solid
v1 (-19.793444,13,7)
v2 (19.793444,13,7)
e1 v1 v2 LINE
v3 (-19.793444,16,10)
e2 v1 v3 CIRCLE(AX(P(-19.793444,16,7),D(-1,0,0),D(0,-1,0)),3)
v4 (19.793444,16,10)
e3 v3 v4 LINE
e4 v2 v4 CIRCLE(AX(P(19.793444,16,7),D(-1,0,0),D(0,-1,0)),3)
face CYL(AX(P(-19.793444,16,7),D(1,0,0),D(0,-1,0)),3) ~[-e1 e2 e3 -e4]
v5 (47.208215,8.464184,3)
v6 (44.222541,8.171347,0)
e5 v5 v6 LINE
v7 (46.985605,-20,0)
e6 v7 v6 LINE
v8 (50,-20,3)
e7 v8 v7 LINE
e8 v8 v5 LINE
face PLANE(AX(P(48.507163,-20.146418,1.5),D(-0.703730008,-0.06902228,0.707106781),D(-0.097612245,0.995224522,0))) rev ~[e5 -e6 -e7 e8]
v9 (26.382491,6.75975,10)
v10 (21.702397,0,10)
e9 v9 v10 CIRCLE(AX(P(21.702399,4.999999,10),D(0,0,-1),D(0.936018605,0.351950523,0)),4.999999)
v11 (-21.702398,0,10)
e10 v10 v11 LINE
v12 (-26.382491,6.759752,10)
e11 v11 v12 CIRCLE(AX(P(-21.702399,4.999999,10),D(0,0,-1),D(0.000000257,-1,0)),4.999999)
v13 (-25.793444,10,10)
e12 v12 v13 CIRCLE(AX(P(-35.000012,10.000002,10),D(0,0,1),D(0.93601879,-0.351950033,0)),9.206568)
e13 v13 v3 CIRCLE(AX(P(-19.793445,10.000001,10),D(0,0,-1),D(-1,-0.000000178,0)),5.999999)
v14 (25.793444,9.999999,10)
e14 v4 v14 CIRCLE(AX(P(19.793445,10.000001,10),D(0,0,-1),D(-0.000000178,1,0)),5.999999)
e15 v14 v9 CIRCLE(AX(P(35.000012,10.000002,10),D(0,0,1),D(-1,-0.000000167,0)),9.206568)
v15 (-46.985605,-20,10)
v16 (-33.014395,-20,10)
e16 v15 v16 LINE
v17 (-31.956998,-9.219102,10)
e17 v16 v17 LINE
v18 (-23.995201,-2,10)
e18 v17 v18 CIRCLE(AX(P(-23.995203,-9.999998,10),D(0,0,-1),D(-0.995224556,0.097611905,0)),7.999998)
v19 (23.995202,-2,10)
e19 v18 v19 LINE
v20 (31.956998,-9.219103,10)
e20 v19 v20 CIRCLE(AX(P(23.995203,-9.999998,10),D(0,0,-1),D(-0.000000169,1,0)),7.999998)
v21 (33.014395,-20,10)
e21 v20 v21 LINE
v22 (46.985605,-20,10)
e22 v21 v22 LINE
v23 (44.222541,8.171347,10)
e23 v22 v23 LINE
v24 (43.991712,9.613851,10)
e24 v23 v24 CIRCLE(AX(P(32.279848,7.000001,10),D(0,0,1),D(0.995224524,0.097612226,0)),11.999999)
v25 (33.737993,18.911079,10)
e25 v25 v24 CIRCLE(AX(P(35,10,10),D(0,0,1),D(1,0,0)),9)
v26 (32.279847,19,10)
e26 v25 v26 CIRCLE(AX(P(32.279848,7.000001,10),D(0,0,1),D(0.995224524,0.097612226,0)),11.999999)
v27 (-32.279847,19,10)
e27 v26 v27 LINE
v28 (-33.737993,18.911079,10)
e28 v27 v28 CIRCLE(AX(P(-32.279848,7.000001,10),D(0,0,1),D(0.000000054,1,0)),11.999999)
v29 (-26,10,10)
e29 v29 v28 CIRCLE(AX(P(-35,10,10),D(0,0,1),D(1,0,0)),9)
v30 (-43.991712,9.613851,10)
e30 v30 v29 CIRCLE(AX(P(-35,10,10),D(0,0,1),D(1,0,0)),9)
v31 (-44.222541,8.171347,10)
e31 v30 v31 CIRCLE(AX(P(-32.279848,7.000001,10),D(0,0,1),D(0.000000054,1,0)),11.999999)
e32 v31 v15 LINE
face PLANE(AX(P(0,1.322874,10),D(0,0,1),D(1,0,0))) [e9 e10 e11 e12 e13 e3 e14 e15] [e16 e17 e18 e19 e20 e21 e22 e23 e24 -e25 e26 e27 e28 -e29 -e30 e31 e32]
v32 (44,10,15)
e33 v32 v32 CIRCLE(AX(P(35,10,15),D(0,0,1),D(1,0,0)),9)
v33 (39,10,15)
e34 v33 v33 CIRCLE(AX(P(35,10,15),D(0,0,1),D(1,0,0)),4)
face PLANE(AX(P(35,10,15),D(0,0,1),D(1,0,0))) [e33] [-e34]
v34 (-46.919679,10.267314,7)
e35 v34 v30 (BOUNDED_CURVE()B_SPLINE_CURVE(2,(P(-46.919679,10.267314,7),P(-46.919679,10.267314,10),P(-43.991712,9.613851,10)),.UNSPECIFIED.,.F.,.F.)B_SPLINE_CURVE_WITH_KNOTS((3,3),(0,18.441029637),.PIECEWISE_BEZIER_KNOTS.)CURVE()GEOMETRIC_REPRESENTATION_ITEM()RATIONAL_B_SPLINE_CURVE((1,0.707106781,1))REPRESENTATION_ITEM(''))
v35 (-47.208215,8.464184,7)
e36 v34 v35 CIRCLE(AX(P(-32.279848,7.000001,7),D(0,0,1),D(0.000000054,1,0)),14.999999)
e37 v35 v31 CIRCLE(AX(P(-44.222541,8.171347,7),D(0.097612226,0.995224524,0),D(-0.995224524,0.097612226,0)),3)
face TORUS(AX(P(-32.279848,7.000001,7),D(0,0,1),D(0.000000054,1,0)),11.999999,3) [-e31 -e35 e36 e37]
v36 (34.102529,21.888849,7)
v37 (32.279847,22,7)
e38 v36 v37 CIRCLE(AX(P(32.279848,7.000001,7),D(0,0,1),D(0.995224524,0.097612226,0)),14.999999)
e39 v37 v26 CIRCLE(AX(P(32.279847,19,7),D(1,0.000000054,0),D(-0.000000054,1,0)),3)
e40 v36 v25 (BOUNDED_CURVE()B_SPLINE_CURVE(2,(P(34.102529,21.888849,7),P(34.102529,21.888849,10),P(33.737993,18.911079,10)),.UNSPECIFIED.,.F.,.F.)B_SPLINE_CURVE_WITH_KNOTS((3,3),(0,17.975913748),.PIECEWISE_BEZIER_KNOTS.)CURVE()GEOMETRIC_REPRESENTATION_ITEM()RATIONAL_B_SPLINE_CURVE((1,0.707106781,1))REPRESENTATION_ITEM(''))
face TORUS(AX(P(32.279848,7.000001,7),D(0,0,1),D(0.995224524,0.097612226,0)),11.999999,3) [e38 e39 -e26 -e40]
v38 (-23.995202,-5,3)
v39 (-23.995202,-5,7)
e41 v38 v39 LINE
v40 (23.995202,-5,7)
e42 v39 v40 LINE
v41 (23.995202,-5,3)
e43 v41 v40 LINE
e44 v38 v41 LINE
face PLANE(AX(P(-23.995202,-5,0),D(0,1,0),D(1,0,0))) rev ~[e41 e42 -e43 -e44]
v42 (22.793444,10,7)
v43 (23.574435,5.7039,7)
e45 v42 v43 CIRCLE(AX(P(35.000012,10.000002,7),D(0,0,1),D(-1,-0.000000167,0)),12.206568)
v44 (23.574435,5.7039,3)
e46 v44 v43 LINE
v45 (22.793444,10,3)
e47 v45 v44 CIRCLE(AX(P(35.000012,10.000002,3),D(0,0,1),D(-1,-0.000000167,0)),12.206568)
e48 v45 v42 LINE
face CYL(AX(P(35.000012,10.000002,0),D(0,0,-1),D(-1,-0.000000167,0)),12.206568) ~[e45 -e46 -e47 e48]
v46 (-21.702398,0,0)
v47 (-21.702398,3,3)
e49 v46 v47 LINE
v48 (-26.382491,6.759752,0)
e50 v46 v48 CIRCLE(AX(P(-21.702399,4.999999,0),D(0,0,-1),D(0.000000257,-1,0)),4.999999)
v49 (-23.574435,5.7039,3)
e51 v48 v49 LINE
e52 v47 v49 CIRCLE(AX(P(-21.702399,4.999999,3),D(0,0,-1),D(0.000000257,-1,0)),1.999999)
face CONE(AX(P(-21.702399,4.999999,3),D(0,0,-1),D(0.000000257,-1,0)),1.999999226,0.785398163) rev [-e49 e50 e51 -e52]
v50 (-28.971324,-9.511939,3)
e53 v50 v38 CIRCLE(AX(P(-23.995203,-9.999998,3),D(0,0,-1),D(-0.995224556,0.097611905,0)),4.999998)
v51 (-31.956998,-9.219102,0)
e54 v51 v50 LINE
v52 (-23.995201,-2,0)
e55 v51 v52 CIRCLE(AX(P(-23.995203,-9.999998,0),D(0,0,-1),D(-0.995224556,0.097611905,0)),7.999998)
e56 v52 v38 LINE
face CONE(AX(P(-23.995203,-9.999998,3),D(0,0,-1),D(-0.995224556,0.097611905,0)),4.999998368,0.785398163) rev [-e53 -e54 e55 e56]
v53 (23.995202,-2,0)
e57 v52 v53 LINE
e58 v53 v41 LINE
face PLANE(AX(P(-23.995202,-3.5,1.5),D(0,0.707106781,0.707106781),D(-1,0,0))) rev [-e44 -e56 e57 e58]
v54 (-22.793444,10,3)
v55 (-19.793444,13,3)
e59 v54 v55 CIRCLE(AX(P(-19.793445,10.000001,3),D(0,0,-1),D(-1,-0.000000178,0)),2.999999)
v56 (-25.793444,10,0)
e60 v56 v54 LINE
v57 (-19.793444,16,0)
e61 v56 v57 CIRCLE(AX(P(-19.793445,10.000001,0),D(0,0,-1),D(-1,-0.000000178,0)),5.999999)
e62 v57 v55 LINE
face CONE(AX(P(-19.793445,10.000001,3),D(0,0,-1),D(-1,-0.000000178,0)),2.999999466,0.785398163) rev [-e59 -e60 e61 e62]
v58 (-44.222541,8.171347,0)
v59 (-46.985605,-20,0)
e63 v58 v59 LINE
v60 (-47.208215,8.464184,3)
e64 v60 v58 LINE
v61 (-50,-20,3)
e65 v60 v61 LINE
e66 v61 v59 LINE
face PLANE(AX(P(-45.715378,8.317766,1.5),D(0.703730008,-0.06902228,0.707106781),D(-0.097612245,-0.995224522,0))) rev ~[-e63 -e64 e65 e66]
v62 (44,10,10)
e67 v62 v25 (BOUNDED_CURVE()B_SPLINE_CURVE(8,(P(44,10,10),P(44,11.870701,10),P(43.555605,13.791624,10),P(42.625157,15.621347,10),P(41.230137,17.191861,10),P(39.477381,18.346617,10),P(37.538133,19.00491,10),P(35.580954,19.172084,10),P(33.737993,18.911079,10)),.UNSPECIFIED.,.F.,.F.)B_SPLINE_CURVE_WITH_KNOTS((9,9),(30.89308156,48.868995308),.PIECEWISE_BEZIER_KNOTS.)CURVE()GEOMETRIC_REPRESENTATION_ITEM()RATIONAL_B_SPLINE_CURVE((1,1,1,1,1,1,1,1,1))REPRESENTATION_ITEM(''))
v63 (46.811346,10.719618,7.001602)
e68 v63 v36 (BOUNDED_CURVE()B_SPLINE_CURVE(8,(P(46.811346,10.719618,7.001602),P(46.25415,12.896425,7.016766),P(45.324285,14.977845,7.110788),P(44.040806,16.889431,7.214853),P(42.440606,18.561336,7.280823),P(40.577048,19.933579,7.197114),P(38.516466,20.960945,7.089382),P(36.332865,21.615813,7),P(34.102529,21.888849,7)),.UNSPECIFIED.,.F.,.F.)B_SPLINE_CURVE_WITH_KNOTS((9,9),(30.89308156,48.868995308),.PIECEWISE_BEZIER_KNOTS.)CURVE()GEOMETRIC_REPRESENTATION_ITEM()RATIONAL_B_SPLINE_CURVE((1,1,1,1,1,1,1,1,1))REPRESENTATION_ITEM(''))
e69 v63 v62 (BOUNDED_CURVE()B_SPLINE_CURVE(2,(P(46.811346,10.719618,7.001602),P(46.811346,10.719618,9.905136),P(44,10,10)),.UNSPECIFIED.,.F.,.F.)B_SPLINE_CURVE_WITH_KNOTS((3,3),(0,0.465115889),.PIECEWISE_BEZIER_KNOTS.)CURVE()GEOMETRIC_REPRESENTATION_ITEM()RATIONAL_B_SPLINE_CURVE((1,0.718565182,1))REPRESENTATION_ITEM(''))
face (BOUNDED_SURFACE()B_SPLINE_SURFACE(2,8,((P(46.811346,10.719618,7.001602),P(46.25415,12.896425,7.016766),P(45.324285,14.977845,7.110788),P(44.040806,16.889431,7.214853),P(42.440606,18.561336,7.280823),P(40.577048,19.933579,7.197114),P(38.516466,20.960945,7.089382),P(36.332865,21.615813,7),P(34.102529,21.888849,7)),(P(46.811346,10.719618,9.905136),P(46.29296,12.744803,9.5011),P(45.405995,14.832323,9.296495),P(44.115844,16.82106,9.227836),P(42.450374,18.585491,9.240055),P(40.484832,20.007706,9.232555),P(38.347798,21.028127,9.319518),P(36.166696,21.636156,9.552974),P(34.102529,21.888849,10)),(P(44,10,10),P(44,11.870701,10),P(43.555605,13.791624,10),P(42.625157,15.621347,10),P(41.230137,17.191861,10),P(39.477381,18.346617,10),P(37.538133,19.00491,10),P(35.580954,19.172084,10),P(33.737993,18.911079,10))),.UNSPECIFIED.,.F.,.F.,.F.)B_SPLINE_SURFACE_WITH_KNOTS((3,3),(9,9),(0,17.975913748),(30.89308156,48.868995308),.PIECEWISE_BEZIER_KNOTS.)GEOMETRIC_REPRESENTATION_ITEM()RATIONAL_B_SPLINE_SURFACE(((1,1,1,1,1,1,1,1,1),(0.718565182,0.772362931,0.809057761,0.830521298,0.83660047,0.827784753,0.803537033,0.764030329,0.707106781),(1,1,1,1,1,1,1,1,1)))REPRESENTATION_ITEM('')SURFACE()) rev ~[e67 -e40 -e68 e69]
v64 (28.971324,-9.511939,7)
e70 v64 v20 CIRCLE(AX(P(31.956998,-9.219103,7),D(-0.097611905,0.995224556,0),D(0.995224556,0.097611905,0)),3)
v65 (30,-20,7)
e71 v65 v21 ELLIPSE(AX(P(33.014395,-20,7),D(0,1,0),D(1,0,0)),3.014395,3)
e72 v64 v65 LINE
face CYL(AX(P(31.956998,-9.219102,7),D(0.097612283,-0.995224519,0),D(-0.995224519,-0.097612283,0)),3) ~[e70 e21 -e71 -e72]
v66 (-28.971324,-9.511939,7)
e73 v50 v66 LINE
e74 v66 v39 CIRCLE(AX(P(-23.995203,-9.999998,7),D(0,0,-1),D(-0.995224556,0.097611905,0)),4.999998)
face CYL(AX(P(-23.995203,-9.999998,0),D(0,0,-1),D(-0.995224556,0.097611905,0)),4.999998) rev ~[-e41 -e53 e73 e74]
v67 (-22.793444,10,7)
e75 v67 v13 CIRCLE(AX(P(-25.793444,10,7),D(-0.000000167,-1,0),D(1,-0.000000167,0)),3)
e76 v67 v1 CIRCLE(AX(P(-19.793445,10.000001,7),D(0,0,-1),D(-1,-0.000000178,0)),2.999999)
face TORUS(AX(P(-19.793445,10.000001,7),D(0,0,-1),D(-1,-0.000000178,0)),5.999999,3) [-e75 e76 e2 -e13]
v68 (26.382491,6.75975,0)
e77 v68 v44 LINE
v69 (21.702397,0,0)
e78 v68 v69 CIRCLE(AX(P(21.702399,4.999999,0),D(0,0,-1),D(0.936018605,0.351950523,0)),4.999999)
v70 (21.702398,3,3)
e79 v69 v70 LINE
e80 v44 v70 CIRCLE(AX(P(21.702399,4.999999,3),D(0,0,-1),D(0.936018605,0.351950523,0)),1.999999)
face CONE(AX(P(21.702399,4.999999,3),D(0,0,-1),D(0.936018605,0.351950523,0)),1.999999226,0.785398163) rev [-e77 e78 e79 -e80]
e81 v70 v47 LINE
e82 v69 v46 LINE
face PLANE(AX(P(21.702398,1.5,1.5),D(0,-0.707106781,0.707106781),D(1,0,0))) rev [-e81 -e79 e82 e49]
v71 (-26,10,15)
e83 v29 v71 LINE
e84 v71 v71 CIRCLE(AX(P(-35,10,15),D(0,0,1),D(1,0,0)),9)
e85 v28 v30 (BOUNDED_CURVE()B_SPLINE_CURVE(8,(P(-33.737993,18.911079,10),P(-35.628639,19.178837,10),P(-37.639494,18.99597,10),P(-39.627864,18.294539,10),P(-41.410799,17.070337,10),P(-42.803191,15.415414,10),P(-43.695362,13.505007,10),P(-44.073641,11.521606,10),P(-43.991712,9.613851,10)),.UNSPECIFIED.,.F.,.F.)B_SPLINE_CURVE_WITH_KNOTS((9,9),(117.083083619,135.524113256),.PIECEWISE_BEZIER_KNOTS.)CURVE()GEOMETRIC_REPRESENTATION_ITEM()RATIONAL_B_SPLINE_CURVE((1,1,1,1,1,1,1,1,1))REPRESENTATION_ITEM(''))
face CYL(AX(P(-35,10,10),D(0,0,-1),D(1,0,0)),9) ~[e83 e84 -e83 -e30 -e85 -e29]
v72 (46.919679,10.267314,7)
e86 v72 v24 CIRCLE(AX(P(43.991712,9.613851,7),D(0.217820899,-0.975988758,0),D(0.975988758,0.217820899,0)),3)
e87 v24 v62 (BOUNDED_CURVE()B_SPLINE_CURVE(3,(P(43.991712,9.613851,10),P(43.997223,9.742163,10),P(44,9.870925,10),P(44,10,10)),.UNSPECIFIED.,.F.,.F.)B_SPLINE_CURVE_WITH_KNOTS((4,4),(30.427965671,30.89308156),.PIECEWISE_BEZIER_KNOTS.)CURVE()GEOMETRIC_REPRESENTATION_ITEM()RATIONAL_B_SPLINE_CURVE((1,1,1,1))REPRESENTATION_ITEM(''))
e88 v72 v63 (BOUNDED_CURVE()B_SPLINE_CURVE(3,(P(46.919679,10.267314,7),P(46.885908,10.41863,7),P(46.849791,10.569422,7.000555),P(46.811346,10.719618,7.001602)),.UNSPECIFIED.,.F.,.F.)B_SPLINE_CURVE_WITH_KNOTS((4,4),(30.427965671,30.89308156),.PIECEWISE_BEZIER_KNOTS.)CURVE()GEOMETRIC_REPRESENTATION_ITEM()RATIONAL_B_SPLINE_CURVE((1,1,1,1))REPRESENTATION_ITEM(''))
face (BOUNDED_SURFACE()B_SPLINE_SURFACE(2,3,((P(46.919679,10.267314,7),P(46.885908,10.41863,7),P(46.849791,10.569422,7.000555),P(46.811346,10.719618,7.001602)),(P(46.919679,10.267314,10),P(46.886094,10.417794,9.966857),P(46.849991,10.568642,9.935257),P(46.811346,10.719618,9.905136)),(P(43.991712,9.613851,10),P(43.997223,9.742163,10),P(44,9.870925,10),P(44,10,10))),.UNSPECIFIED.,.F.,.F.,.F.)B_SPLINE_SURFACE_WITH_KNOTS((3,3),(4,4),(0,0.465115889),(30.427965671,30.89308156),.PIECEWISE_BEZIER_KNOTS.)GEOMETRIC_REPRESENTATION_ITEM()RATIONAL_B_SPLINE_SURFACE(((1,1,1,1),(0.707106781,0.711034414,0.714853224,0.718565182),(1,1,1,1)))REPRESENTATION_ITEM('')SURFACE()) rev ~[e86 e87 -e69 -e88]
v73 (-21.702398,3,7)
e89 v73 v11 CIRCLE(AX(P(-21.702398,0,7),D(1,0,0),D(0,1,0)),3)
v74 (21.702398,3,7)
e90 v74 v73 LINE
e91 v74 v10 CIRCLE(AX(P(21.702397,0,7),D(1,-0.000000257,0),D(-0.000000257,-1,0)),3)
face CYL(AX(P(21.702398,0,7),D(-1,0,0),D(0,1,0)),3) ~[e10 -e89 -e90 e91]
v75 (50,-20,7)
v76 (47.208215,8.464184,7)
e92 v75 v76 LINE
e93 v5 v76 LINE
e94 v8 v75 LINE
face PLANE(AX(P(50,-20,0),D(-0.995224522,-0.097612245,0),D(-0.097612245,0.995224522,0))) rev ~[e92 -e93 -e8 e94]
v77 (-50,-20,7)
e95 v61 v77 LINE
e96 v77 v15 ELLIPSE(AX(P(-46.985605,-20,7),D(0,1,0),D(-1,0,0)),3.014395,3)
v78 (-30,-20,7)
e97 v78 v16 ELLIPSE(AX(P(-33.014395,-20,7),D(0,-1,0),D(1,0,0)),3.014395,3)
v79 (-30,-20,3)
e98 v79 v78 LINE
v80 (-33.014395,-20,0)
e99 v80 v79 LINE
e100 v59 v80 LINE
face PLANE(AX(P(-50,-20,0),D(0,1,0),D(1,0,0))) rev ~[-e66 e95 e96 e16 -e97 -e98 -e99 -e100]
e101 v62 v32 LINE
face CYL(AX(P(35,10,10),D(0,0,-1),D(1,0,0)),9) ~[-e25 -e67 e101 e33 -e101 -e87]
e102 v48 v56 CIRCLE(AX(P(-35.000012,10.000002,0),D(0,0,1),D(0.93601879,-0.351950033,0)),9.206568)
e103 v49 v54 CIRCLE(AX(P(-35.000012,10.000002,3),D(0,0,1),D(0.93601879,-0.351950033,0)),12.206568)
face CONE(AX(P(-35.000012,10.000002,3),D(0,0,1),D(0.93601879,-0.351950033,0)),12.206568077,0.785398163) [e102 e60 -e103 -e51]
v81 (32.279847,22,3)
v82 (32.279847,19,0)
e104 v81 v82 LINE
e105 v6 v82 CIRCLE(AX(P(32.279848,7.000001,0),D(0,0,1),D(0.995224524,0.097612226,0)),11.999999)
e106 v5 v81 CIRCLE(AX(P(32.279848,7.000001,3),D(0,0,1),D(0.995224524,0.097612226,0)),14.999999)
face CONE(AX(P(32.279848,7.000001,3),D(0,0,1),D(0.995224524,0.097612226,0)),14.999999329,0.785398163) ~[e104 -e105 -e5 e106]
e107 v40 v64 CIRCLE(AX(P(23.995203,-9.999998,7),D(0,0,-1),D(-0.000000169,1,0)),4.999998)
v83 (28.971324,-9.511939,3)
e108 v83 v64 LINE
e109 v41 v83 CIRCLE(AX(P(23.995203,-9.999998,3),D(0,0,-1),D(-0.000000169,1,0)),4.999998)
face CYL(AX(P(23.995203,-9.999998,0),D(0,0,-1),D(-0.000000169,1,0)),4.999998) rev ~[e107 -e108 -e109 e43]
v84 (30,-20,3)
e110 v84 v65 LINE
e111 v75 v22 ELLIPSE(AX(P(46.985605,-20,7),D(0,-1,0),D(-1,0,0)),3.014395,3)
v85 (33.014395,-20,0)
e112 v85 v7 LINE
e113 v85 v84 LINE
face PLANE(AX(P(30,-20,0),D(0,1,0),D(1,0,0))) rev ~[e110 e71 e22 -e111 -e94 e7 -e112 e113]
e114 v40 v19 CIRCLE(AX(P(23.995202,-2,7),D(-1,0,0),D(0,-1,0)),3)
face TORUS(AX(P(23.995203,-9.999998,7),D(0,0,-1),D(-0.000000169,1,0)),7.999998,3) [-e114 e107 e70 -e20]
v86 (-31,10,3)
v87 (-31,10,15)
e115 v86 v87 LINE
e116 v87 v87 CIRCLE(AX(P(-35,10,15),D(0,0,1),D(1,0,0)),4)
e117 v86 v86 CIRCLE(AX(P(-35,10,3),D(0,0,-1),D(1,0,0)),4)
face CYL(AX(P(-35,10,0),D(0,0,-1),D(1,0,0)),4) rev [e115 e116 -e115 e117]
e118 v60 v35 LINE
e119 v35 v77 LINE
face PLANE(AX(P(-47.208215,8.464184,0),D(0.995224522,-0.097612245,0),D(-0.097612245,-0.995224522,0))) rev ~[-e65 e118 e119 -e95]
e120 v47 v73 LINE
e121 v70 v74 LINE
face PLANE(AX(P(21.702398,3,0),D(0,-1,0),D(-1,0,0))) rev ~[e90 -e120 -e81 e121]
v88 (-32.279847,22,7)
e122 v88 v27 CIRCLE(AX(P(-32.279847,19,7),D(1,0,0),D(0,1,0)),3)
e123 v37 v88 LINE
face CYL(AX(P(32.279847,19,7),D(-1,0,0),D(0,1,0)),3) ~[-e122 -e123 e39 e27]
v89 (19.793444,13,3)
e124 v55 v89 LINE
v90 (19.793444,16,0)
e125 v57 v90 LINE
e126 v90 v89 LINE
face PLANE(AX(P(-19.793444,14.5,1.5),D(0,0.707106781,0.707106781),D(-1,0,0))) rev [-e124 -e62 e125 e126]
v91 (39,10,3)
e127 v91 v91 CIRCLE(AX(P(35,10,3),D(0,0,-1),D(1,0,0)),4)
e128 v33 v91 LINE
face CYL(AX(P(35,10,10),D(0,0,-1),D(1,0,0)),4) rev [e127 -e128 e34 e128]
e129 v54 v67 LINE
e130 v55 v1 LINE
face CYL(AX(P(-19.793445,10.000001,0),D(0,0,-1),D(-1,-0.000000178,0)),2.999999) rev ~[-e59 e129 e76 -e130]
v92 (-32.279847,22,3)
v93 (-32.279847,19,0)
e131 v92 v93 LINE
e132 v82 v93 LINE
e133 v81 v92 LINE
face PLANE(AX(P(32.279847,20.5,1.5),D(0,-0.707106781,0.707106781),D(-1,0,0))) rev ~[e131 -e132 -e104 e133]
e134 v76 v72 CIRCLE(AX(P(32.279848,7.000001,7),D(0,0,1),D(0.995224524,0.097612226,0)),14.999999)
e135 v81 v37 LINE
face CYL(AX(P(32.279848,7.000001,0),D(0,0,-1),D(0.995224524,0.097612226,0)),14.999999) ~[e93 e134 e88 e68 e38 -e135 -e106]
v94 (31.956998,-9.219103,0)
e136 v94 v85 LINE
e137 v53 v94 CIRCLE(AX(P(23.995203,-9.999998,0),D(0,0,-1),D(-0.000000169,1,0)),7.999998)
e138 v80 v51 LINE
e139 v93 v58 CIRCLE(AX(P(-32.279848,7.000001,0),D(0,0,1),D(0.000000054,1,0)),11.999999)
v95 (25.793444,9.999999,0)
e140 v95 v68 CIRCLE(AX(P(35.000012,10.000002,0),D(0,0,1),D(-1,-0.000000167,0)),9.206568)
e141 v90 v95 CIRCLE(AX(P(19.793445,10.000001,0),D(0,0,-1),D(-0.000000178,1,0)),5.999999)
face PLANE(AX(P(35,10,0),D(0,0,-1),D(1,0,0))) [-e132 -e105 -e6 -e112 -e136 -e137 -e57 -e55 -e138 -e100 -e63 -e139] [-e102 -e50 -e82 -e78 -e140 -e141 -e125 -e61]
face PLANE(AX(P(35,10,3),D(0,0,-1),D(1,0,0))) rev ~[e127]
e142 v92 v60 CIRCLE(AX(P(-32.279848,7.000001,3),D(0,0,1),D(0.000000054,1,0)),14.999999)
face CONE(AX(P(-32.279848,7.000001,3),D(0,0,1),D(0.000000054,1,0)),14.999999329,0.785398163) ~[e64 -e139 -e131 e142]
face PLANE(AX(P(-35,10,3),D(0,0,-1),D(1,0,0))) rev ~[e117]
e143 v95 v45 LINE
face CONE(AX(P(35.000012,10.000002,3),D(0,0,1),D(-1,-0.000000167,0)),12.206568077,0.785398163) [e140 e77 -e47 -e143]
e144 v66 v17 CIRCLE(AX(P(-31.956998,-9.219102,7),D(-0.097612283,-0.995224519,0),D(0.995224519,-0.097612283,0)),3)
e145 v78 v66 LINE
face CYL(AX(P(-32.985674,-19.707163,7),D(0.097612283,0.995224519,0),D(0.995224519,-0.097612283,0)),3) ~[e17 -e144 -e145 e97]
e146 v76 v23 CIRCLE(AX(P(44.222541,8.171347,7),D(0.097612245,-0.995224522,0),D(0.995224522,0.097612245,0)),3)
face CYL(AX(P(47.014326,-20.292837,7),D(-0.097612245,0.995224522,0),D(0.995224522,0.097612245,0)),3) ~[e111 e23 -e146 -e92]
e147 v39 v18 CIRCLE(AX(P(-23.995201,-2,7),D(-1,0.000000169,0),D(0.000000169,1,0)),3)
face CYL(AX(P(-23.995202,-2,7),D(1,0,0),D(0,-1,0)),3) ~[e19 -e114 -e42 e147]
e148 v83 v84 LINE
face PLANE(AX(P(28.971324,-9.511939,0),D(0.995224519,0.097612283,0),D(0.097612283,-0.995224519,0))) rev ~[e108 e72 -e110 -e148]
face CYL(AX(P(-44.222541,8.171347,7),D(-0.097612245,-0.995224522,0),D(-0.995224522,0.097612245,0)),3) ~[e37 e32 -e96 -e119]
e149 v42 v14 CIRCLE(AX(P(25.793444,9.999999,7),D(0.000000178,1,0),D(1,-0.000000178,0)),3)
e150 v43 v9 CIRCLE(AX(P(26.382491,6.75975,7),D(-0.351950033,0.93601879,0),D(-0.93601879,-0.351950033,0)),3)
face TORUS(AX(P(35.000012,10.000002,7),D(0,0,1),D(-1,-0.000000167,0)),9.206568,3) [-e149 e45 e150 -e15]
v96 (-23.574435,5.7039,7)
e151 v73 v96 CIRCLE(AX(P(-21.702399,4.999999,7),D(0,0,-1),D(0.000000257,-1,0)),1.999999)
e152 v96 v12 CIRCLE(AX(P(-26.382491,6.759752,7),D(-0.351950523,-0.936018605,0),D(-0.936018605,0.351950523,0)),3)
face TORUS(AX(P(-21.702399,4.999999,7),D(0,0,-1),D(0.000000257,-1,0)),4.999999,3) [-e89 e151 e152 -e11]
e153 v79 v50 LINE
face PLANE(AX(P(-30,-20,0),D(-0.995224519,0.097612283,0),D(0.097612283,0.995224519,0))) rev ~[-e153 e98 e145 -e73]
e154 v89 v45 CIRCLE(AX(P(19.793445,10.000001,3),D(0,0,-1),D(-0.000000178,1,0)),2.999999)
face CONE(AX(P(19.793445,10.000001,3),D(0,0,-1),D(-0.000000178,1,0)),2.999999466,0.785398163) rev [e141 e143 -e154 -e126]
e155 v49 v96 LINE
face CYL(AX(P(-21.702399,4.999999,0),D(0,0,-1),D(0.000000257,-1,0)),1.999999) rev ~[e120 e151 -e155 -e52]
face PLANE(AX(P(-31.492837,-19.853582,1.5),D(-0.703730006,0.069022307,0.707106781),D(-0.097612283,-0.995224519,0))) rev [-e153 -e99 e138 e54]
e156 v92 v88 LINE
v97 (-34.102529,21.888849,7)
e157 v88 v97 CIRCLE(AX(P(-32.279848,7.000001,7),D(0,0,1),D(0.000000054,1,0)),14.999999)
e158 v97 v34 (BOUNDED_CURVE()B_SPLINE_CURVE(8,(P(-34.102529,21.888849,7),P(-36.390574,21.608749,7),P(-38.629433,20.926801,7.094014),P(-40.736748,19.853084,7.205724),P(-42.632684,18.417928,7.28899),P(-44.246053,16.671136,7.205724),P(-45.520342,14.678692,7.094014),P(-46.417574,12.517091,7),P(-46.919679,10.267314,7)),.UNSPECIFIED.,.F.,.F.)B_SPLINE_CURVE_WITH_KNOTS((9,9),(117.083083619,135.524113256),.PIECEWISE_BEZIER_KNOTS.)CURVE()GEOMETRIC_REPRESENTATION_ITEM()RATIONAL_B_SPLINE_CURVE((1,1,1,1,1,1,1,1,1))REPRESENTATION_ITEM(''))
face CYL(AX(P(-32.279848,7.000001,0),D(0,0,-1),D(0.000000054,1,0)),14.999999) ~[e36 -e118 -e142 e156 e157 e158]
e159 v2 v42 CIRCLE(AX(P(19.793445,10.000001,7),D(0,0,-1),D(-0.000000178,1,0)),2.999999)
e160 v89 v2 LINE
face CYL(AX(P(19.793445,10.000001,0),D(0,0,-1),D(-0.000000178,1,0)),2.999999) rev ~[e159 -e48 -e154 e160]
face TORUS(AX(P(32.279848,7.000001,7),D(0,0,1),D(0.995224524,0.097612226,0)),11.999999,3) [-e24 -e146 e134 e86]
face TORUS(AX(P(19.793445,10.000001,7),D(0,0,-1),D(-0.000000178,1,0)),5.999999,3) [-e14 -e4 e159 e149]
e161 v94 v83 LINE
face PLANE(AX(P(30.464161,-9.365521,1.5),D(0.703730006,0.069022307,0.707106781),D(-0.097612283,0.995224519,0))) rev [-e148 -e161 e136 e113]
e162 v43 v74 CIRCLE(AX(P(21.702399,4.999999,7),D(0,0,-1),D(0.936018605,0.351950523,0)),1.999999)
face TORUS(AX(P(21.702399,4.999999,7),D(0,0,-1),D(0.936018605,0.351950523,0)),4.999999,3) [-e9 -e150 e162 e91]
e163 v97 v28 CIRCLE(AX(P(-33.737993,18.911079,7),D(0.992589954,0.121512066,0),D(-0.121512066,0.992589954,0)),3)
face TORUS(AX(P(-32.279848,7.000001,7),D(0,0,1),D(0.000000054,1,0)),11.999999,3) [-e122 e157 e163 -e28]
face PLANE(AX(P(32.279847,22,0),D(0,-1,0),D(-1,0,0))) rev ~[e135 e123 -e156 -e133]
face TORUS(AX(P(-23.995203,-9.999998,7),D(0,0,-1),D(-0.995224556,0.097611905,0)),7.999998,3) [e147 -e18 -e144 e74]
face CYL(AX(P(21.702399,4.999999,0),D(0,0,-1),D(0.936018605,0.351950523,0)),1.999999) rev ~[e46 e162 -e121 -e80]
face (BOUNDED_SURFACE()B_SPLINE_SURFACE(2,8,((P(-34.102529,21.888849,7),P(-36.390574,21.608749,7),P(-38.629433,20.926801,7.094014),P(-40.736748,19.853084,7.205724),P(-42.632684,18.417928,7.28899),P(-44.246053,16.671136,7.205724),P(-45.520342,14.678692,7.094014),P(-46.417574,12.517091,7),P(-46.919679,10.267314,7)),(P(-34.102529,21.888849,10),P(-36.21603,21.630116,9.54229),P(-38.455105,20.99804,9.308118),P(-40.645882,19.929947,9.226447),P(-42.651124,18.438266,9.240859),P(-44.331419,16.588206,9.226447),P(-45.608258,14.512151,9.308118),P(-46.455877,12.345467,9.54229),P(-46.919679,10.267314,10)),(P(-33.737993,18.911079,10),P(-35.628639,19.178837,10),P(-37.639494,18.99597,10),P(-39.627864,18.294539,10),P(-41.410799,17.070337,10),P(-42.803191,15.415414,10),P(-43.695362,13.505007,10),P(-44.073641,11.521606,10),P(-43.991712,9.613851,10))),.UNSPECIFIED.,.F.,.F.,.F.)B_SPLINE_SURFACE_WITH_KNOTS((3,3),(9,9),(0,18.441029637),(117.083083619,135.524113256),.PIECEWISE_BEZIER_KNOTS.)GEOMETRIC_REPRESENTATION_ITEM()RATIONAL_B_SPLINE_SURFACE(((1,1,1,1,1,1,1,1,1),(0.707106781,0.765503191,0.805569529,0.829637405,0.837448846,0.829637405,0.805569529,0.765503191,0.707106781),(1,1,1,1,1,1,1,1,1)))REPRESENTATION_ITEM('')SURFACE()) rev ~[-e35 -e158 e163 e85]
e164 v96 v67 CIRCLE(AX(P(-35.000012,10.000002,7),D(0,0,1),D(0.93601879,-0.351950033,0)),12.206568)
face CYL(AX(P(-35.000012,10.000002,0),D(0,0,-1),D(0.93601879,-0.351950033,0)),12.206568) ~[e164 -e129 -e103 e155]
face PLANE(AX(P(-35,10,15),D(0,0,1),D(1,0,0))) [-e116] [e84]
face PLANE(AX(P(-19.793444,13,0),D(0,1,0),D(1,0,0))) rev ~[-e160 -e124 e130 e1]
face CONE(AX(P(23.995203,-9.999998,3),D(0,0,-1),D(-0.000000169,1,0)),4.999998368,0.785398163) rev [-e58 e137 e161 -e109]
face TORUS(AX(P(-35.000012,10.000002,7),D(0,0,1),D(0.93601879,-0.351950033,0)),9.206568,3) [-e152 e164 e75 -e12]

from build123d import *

# Parameters (mm, degrees)
F0_R     = 4
F1_DEPTH = 10
F2_R     = 9
F2_R_2   = 4
F3_DEPTH = 5
F4_R     = 4
F5_DEPTH = 3
F6_R     = 3
F7_SIZE  = 3


with BuildPart() as f1:
    # F0 (on Top) → F1 (new body)
    with BuildSketch(Plane.XY):
        with BuildLine():
            Line((32.279847, 22), (0, 22))
            Line((0, 22), (-32.279847, 22))
            ThreePointArc((-32.279847, 22), (-42.355492, 18.112218), (-47.208215, 8.464184))
            Line((-47.208215, 8.464184), (-50, -20))
            Line((-50, -20), (-30, -20))
            Line((-30, -20), (-28.971324, -9.511939))
            ThreePointArc((-28.971324, -9.511939), (-27.35375, -6.295927), (-23.995202, -5))
            Line((-23.995202, -5), (0, -5))
            Line((0, -5), (23.995202, -5))
            ThreePointArc((23.995202, -5), (27.35375, -6.295927), (28.971324, -9.511939))
            Line((28.971324, -9.511939), (30, -20))
            Line((30, -20), (50, -20))
            Line((50, -20), (47.208215, 8.464184))
            ThreePointArc((47.208215, 8.464184), (42.355492, 18.112218), (32.279847, 22))
        make_face()
        with Locations((-35, 10)):
            Circle(F0_R, mode=Mode.SUBTRACT)
        with BuildLine():
            Line((21.702398, 3), (0, 3))
            Line((0, 3), (-21.702398, 3))
            ThreePointArc((-21.702398, 3), (-23.346752, 3.861536), (-23.574435, 5.7039))
            ThreePointArc((-23.574435, 5.7039), (-22.990279, 7.816744), (-22.793444, 10))
            ThreePointArc((-22.793444, 10), (-21.914765, 12.12132), (-19.793444, 13))
            Line((-19.793444, 13), (19.793444, 13))
            ThreePointArc((19.793444, 13), (21.914765, 12.12132), (22.793444, 10))
            ThreePointArc((22.793444, 10), (22.990279, 7.816744), (23.574435, 5.7039))
            ThreePointArc((23.574435, 5.7039), (23.346752, 3.861536), (21.702398, 3))
        make_face(mode=Mode.SUBTRACT)
        with Locations((35, 10)):
            Circle(F0_R, mode=Mode.SUBTRACT)
    extrude(amount=F1_DEPTH)

    # F2 (on face) → F3 (join)
    with BuildSketch(Plane.XY.offset(10)):
        with Locations((35, 10)):
            Circle(F2_R)
        with Locations((35, 10)):
            Circle(F2_R_2, mode=Mode.SUBTRACT)
        with Locations((-35, 10)):
            Circle(F2_R)
        with Locations((-35, 10)):
            Circle(F2_R_2, mode=Mode.SUBTRACT)
    extrude(amount=F3_DEPTH)

    # F4 (on face) → F5 (join)
    with BuildSketch(Plane(origin=(0, 0, 0), x_dir=(1, 0, 0), z_dir=(0, 0, -1))):
        with Locations((35, -10)):
            Circle(F4_R)
        with Locations((-35, -10)):
            Circle(F4_R)
    extrude(amount=-F5_DEPTH)

    # F6
    f6_edges = [f1.edges().sort_by_distance(p)[0] for p in [
        (0, -5, 10),
        (0, 22, 10),
        (0, 13, 10),
    ]]
    fillet(f6_edges, radius=F6_R)

    # F7
    f7_edges = [f1.edges().sort_by_distance(p)[0] for p in [
        (42.355492, 18.112218, 0),
        (0, 13, 0),
        (0, -5, 0),
    ]]
    chamfer(f7_edges, length=F7_SIZE)


solid = f1.part
